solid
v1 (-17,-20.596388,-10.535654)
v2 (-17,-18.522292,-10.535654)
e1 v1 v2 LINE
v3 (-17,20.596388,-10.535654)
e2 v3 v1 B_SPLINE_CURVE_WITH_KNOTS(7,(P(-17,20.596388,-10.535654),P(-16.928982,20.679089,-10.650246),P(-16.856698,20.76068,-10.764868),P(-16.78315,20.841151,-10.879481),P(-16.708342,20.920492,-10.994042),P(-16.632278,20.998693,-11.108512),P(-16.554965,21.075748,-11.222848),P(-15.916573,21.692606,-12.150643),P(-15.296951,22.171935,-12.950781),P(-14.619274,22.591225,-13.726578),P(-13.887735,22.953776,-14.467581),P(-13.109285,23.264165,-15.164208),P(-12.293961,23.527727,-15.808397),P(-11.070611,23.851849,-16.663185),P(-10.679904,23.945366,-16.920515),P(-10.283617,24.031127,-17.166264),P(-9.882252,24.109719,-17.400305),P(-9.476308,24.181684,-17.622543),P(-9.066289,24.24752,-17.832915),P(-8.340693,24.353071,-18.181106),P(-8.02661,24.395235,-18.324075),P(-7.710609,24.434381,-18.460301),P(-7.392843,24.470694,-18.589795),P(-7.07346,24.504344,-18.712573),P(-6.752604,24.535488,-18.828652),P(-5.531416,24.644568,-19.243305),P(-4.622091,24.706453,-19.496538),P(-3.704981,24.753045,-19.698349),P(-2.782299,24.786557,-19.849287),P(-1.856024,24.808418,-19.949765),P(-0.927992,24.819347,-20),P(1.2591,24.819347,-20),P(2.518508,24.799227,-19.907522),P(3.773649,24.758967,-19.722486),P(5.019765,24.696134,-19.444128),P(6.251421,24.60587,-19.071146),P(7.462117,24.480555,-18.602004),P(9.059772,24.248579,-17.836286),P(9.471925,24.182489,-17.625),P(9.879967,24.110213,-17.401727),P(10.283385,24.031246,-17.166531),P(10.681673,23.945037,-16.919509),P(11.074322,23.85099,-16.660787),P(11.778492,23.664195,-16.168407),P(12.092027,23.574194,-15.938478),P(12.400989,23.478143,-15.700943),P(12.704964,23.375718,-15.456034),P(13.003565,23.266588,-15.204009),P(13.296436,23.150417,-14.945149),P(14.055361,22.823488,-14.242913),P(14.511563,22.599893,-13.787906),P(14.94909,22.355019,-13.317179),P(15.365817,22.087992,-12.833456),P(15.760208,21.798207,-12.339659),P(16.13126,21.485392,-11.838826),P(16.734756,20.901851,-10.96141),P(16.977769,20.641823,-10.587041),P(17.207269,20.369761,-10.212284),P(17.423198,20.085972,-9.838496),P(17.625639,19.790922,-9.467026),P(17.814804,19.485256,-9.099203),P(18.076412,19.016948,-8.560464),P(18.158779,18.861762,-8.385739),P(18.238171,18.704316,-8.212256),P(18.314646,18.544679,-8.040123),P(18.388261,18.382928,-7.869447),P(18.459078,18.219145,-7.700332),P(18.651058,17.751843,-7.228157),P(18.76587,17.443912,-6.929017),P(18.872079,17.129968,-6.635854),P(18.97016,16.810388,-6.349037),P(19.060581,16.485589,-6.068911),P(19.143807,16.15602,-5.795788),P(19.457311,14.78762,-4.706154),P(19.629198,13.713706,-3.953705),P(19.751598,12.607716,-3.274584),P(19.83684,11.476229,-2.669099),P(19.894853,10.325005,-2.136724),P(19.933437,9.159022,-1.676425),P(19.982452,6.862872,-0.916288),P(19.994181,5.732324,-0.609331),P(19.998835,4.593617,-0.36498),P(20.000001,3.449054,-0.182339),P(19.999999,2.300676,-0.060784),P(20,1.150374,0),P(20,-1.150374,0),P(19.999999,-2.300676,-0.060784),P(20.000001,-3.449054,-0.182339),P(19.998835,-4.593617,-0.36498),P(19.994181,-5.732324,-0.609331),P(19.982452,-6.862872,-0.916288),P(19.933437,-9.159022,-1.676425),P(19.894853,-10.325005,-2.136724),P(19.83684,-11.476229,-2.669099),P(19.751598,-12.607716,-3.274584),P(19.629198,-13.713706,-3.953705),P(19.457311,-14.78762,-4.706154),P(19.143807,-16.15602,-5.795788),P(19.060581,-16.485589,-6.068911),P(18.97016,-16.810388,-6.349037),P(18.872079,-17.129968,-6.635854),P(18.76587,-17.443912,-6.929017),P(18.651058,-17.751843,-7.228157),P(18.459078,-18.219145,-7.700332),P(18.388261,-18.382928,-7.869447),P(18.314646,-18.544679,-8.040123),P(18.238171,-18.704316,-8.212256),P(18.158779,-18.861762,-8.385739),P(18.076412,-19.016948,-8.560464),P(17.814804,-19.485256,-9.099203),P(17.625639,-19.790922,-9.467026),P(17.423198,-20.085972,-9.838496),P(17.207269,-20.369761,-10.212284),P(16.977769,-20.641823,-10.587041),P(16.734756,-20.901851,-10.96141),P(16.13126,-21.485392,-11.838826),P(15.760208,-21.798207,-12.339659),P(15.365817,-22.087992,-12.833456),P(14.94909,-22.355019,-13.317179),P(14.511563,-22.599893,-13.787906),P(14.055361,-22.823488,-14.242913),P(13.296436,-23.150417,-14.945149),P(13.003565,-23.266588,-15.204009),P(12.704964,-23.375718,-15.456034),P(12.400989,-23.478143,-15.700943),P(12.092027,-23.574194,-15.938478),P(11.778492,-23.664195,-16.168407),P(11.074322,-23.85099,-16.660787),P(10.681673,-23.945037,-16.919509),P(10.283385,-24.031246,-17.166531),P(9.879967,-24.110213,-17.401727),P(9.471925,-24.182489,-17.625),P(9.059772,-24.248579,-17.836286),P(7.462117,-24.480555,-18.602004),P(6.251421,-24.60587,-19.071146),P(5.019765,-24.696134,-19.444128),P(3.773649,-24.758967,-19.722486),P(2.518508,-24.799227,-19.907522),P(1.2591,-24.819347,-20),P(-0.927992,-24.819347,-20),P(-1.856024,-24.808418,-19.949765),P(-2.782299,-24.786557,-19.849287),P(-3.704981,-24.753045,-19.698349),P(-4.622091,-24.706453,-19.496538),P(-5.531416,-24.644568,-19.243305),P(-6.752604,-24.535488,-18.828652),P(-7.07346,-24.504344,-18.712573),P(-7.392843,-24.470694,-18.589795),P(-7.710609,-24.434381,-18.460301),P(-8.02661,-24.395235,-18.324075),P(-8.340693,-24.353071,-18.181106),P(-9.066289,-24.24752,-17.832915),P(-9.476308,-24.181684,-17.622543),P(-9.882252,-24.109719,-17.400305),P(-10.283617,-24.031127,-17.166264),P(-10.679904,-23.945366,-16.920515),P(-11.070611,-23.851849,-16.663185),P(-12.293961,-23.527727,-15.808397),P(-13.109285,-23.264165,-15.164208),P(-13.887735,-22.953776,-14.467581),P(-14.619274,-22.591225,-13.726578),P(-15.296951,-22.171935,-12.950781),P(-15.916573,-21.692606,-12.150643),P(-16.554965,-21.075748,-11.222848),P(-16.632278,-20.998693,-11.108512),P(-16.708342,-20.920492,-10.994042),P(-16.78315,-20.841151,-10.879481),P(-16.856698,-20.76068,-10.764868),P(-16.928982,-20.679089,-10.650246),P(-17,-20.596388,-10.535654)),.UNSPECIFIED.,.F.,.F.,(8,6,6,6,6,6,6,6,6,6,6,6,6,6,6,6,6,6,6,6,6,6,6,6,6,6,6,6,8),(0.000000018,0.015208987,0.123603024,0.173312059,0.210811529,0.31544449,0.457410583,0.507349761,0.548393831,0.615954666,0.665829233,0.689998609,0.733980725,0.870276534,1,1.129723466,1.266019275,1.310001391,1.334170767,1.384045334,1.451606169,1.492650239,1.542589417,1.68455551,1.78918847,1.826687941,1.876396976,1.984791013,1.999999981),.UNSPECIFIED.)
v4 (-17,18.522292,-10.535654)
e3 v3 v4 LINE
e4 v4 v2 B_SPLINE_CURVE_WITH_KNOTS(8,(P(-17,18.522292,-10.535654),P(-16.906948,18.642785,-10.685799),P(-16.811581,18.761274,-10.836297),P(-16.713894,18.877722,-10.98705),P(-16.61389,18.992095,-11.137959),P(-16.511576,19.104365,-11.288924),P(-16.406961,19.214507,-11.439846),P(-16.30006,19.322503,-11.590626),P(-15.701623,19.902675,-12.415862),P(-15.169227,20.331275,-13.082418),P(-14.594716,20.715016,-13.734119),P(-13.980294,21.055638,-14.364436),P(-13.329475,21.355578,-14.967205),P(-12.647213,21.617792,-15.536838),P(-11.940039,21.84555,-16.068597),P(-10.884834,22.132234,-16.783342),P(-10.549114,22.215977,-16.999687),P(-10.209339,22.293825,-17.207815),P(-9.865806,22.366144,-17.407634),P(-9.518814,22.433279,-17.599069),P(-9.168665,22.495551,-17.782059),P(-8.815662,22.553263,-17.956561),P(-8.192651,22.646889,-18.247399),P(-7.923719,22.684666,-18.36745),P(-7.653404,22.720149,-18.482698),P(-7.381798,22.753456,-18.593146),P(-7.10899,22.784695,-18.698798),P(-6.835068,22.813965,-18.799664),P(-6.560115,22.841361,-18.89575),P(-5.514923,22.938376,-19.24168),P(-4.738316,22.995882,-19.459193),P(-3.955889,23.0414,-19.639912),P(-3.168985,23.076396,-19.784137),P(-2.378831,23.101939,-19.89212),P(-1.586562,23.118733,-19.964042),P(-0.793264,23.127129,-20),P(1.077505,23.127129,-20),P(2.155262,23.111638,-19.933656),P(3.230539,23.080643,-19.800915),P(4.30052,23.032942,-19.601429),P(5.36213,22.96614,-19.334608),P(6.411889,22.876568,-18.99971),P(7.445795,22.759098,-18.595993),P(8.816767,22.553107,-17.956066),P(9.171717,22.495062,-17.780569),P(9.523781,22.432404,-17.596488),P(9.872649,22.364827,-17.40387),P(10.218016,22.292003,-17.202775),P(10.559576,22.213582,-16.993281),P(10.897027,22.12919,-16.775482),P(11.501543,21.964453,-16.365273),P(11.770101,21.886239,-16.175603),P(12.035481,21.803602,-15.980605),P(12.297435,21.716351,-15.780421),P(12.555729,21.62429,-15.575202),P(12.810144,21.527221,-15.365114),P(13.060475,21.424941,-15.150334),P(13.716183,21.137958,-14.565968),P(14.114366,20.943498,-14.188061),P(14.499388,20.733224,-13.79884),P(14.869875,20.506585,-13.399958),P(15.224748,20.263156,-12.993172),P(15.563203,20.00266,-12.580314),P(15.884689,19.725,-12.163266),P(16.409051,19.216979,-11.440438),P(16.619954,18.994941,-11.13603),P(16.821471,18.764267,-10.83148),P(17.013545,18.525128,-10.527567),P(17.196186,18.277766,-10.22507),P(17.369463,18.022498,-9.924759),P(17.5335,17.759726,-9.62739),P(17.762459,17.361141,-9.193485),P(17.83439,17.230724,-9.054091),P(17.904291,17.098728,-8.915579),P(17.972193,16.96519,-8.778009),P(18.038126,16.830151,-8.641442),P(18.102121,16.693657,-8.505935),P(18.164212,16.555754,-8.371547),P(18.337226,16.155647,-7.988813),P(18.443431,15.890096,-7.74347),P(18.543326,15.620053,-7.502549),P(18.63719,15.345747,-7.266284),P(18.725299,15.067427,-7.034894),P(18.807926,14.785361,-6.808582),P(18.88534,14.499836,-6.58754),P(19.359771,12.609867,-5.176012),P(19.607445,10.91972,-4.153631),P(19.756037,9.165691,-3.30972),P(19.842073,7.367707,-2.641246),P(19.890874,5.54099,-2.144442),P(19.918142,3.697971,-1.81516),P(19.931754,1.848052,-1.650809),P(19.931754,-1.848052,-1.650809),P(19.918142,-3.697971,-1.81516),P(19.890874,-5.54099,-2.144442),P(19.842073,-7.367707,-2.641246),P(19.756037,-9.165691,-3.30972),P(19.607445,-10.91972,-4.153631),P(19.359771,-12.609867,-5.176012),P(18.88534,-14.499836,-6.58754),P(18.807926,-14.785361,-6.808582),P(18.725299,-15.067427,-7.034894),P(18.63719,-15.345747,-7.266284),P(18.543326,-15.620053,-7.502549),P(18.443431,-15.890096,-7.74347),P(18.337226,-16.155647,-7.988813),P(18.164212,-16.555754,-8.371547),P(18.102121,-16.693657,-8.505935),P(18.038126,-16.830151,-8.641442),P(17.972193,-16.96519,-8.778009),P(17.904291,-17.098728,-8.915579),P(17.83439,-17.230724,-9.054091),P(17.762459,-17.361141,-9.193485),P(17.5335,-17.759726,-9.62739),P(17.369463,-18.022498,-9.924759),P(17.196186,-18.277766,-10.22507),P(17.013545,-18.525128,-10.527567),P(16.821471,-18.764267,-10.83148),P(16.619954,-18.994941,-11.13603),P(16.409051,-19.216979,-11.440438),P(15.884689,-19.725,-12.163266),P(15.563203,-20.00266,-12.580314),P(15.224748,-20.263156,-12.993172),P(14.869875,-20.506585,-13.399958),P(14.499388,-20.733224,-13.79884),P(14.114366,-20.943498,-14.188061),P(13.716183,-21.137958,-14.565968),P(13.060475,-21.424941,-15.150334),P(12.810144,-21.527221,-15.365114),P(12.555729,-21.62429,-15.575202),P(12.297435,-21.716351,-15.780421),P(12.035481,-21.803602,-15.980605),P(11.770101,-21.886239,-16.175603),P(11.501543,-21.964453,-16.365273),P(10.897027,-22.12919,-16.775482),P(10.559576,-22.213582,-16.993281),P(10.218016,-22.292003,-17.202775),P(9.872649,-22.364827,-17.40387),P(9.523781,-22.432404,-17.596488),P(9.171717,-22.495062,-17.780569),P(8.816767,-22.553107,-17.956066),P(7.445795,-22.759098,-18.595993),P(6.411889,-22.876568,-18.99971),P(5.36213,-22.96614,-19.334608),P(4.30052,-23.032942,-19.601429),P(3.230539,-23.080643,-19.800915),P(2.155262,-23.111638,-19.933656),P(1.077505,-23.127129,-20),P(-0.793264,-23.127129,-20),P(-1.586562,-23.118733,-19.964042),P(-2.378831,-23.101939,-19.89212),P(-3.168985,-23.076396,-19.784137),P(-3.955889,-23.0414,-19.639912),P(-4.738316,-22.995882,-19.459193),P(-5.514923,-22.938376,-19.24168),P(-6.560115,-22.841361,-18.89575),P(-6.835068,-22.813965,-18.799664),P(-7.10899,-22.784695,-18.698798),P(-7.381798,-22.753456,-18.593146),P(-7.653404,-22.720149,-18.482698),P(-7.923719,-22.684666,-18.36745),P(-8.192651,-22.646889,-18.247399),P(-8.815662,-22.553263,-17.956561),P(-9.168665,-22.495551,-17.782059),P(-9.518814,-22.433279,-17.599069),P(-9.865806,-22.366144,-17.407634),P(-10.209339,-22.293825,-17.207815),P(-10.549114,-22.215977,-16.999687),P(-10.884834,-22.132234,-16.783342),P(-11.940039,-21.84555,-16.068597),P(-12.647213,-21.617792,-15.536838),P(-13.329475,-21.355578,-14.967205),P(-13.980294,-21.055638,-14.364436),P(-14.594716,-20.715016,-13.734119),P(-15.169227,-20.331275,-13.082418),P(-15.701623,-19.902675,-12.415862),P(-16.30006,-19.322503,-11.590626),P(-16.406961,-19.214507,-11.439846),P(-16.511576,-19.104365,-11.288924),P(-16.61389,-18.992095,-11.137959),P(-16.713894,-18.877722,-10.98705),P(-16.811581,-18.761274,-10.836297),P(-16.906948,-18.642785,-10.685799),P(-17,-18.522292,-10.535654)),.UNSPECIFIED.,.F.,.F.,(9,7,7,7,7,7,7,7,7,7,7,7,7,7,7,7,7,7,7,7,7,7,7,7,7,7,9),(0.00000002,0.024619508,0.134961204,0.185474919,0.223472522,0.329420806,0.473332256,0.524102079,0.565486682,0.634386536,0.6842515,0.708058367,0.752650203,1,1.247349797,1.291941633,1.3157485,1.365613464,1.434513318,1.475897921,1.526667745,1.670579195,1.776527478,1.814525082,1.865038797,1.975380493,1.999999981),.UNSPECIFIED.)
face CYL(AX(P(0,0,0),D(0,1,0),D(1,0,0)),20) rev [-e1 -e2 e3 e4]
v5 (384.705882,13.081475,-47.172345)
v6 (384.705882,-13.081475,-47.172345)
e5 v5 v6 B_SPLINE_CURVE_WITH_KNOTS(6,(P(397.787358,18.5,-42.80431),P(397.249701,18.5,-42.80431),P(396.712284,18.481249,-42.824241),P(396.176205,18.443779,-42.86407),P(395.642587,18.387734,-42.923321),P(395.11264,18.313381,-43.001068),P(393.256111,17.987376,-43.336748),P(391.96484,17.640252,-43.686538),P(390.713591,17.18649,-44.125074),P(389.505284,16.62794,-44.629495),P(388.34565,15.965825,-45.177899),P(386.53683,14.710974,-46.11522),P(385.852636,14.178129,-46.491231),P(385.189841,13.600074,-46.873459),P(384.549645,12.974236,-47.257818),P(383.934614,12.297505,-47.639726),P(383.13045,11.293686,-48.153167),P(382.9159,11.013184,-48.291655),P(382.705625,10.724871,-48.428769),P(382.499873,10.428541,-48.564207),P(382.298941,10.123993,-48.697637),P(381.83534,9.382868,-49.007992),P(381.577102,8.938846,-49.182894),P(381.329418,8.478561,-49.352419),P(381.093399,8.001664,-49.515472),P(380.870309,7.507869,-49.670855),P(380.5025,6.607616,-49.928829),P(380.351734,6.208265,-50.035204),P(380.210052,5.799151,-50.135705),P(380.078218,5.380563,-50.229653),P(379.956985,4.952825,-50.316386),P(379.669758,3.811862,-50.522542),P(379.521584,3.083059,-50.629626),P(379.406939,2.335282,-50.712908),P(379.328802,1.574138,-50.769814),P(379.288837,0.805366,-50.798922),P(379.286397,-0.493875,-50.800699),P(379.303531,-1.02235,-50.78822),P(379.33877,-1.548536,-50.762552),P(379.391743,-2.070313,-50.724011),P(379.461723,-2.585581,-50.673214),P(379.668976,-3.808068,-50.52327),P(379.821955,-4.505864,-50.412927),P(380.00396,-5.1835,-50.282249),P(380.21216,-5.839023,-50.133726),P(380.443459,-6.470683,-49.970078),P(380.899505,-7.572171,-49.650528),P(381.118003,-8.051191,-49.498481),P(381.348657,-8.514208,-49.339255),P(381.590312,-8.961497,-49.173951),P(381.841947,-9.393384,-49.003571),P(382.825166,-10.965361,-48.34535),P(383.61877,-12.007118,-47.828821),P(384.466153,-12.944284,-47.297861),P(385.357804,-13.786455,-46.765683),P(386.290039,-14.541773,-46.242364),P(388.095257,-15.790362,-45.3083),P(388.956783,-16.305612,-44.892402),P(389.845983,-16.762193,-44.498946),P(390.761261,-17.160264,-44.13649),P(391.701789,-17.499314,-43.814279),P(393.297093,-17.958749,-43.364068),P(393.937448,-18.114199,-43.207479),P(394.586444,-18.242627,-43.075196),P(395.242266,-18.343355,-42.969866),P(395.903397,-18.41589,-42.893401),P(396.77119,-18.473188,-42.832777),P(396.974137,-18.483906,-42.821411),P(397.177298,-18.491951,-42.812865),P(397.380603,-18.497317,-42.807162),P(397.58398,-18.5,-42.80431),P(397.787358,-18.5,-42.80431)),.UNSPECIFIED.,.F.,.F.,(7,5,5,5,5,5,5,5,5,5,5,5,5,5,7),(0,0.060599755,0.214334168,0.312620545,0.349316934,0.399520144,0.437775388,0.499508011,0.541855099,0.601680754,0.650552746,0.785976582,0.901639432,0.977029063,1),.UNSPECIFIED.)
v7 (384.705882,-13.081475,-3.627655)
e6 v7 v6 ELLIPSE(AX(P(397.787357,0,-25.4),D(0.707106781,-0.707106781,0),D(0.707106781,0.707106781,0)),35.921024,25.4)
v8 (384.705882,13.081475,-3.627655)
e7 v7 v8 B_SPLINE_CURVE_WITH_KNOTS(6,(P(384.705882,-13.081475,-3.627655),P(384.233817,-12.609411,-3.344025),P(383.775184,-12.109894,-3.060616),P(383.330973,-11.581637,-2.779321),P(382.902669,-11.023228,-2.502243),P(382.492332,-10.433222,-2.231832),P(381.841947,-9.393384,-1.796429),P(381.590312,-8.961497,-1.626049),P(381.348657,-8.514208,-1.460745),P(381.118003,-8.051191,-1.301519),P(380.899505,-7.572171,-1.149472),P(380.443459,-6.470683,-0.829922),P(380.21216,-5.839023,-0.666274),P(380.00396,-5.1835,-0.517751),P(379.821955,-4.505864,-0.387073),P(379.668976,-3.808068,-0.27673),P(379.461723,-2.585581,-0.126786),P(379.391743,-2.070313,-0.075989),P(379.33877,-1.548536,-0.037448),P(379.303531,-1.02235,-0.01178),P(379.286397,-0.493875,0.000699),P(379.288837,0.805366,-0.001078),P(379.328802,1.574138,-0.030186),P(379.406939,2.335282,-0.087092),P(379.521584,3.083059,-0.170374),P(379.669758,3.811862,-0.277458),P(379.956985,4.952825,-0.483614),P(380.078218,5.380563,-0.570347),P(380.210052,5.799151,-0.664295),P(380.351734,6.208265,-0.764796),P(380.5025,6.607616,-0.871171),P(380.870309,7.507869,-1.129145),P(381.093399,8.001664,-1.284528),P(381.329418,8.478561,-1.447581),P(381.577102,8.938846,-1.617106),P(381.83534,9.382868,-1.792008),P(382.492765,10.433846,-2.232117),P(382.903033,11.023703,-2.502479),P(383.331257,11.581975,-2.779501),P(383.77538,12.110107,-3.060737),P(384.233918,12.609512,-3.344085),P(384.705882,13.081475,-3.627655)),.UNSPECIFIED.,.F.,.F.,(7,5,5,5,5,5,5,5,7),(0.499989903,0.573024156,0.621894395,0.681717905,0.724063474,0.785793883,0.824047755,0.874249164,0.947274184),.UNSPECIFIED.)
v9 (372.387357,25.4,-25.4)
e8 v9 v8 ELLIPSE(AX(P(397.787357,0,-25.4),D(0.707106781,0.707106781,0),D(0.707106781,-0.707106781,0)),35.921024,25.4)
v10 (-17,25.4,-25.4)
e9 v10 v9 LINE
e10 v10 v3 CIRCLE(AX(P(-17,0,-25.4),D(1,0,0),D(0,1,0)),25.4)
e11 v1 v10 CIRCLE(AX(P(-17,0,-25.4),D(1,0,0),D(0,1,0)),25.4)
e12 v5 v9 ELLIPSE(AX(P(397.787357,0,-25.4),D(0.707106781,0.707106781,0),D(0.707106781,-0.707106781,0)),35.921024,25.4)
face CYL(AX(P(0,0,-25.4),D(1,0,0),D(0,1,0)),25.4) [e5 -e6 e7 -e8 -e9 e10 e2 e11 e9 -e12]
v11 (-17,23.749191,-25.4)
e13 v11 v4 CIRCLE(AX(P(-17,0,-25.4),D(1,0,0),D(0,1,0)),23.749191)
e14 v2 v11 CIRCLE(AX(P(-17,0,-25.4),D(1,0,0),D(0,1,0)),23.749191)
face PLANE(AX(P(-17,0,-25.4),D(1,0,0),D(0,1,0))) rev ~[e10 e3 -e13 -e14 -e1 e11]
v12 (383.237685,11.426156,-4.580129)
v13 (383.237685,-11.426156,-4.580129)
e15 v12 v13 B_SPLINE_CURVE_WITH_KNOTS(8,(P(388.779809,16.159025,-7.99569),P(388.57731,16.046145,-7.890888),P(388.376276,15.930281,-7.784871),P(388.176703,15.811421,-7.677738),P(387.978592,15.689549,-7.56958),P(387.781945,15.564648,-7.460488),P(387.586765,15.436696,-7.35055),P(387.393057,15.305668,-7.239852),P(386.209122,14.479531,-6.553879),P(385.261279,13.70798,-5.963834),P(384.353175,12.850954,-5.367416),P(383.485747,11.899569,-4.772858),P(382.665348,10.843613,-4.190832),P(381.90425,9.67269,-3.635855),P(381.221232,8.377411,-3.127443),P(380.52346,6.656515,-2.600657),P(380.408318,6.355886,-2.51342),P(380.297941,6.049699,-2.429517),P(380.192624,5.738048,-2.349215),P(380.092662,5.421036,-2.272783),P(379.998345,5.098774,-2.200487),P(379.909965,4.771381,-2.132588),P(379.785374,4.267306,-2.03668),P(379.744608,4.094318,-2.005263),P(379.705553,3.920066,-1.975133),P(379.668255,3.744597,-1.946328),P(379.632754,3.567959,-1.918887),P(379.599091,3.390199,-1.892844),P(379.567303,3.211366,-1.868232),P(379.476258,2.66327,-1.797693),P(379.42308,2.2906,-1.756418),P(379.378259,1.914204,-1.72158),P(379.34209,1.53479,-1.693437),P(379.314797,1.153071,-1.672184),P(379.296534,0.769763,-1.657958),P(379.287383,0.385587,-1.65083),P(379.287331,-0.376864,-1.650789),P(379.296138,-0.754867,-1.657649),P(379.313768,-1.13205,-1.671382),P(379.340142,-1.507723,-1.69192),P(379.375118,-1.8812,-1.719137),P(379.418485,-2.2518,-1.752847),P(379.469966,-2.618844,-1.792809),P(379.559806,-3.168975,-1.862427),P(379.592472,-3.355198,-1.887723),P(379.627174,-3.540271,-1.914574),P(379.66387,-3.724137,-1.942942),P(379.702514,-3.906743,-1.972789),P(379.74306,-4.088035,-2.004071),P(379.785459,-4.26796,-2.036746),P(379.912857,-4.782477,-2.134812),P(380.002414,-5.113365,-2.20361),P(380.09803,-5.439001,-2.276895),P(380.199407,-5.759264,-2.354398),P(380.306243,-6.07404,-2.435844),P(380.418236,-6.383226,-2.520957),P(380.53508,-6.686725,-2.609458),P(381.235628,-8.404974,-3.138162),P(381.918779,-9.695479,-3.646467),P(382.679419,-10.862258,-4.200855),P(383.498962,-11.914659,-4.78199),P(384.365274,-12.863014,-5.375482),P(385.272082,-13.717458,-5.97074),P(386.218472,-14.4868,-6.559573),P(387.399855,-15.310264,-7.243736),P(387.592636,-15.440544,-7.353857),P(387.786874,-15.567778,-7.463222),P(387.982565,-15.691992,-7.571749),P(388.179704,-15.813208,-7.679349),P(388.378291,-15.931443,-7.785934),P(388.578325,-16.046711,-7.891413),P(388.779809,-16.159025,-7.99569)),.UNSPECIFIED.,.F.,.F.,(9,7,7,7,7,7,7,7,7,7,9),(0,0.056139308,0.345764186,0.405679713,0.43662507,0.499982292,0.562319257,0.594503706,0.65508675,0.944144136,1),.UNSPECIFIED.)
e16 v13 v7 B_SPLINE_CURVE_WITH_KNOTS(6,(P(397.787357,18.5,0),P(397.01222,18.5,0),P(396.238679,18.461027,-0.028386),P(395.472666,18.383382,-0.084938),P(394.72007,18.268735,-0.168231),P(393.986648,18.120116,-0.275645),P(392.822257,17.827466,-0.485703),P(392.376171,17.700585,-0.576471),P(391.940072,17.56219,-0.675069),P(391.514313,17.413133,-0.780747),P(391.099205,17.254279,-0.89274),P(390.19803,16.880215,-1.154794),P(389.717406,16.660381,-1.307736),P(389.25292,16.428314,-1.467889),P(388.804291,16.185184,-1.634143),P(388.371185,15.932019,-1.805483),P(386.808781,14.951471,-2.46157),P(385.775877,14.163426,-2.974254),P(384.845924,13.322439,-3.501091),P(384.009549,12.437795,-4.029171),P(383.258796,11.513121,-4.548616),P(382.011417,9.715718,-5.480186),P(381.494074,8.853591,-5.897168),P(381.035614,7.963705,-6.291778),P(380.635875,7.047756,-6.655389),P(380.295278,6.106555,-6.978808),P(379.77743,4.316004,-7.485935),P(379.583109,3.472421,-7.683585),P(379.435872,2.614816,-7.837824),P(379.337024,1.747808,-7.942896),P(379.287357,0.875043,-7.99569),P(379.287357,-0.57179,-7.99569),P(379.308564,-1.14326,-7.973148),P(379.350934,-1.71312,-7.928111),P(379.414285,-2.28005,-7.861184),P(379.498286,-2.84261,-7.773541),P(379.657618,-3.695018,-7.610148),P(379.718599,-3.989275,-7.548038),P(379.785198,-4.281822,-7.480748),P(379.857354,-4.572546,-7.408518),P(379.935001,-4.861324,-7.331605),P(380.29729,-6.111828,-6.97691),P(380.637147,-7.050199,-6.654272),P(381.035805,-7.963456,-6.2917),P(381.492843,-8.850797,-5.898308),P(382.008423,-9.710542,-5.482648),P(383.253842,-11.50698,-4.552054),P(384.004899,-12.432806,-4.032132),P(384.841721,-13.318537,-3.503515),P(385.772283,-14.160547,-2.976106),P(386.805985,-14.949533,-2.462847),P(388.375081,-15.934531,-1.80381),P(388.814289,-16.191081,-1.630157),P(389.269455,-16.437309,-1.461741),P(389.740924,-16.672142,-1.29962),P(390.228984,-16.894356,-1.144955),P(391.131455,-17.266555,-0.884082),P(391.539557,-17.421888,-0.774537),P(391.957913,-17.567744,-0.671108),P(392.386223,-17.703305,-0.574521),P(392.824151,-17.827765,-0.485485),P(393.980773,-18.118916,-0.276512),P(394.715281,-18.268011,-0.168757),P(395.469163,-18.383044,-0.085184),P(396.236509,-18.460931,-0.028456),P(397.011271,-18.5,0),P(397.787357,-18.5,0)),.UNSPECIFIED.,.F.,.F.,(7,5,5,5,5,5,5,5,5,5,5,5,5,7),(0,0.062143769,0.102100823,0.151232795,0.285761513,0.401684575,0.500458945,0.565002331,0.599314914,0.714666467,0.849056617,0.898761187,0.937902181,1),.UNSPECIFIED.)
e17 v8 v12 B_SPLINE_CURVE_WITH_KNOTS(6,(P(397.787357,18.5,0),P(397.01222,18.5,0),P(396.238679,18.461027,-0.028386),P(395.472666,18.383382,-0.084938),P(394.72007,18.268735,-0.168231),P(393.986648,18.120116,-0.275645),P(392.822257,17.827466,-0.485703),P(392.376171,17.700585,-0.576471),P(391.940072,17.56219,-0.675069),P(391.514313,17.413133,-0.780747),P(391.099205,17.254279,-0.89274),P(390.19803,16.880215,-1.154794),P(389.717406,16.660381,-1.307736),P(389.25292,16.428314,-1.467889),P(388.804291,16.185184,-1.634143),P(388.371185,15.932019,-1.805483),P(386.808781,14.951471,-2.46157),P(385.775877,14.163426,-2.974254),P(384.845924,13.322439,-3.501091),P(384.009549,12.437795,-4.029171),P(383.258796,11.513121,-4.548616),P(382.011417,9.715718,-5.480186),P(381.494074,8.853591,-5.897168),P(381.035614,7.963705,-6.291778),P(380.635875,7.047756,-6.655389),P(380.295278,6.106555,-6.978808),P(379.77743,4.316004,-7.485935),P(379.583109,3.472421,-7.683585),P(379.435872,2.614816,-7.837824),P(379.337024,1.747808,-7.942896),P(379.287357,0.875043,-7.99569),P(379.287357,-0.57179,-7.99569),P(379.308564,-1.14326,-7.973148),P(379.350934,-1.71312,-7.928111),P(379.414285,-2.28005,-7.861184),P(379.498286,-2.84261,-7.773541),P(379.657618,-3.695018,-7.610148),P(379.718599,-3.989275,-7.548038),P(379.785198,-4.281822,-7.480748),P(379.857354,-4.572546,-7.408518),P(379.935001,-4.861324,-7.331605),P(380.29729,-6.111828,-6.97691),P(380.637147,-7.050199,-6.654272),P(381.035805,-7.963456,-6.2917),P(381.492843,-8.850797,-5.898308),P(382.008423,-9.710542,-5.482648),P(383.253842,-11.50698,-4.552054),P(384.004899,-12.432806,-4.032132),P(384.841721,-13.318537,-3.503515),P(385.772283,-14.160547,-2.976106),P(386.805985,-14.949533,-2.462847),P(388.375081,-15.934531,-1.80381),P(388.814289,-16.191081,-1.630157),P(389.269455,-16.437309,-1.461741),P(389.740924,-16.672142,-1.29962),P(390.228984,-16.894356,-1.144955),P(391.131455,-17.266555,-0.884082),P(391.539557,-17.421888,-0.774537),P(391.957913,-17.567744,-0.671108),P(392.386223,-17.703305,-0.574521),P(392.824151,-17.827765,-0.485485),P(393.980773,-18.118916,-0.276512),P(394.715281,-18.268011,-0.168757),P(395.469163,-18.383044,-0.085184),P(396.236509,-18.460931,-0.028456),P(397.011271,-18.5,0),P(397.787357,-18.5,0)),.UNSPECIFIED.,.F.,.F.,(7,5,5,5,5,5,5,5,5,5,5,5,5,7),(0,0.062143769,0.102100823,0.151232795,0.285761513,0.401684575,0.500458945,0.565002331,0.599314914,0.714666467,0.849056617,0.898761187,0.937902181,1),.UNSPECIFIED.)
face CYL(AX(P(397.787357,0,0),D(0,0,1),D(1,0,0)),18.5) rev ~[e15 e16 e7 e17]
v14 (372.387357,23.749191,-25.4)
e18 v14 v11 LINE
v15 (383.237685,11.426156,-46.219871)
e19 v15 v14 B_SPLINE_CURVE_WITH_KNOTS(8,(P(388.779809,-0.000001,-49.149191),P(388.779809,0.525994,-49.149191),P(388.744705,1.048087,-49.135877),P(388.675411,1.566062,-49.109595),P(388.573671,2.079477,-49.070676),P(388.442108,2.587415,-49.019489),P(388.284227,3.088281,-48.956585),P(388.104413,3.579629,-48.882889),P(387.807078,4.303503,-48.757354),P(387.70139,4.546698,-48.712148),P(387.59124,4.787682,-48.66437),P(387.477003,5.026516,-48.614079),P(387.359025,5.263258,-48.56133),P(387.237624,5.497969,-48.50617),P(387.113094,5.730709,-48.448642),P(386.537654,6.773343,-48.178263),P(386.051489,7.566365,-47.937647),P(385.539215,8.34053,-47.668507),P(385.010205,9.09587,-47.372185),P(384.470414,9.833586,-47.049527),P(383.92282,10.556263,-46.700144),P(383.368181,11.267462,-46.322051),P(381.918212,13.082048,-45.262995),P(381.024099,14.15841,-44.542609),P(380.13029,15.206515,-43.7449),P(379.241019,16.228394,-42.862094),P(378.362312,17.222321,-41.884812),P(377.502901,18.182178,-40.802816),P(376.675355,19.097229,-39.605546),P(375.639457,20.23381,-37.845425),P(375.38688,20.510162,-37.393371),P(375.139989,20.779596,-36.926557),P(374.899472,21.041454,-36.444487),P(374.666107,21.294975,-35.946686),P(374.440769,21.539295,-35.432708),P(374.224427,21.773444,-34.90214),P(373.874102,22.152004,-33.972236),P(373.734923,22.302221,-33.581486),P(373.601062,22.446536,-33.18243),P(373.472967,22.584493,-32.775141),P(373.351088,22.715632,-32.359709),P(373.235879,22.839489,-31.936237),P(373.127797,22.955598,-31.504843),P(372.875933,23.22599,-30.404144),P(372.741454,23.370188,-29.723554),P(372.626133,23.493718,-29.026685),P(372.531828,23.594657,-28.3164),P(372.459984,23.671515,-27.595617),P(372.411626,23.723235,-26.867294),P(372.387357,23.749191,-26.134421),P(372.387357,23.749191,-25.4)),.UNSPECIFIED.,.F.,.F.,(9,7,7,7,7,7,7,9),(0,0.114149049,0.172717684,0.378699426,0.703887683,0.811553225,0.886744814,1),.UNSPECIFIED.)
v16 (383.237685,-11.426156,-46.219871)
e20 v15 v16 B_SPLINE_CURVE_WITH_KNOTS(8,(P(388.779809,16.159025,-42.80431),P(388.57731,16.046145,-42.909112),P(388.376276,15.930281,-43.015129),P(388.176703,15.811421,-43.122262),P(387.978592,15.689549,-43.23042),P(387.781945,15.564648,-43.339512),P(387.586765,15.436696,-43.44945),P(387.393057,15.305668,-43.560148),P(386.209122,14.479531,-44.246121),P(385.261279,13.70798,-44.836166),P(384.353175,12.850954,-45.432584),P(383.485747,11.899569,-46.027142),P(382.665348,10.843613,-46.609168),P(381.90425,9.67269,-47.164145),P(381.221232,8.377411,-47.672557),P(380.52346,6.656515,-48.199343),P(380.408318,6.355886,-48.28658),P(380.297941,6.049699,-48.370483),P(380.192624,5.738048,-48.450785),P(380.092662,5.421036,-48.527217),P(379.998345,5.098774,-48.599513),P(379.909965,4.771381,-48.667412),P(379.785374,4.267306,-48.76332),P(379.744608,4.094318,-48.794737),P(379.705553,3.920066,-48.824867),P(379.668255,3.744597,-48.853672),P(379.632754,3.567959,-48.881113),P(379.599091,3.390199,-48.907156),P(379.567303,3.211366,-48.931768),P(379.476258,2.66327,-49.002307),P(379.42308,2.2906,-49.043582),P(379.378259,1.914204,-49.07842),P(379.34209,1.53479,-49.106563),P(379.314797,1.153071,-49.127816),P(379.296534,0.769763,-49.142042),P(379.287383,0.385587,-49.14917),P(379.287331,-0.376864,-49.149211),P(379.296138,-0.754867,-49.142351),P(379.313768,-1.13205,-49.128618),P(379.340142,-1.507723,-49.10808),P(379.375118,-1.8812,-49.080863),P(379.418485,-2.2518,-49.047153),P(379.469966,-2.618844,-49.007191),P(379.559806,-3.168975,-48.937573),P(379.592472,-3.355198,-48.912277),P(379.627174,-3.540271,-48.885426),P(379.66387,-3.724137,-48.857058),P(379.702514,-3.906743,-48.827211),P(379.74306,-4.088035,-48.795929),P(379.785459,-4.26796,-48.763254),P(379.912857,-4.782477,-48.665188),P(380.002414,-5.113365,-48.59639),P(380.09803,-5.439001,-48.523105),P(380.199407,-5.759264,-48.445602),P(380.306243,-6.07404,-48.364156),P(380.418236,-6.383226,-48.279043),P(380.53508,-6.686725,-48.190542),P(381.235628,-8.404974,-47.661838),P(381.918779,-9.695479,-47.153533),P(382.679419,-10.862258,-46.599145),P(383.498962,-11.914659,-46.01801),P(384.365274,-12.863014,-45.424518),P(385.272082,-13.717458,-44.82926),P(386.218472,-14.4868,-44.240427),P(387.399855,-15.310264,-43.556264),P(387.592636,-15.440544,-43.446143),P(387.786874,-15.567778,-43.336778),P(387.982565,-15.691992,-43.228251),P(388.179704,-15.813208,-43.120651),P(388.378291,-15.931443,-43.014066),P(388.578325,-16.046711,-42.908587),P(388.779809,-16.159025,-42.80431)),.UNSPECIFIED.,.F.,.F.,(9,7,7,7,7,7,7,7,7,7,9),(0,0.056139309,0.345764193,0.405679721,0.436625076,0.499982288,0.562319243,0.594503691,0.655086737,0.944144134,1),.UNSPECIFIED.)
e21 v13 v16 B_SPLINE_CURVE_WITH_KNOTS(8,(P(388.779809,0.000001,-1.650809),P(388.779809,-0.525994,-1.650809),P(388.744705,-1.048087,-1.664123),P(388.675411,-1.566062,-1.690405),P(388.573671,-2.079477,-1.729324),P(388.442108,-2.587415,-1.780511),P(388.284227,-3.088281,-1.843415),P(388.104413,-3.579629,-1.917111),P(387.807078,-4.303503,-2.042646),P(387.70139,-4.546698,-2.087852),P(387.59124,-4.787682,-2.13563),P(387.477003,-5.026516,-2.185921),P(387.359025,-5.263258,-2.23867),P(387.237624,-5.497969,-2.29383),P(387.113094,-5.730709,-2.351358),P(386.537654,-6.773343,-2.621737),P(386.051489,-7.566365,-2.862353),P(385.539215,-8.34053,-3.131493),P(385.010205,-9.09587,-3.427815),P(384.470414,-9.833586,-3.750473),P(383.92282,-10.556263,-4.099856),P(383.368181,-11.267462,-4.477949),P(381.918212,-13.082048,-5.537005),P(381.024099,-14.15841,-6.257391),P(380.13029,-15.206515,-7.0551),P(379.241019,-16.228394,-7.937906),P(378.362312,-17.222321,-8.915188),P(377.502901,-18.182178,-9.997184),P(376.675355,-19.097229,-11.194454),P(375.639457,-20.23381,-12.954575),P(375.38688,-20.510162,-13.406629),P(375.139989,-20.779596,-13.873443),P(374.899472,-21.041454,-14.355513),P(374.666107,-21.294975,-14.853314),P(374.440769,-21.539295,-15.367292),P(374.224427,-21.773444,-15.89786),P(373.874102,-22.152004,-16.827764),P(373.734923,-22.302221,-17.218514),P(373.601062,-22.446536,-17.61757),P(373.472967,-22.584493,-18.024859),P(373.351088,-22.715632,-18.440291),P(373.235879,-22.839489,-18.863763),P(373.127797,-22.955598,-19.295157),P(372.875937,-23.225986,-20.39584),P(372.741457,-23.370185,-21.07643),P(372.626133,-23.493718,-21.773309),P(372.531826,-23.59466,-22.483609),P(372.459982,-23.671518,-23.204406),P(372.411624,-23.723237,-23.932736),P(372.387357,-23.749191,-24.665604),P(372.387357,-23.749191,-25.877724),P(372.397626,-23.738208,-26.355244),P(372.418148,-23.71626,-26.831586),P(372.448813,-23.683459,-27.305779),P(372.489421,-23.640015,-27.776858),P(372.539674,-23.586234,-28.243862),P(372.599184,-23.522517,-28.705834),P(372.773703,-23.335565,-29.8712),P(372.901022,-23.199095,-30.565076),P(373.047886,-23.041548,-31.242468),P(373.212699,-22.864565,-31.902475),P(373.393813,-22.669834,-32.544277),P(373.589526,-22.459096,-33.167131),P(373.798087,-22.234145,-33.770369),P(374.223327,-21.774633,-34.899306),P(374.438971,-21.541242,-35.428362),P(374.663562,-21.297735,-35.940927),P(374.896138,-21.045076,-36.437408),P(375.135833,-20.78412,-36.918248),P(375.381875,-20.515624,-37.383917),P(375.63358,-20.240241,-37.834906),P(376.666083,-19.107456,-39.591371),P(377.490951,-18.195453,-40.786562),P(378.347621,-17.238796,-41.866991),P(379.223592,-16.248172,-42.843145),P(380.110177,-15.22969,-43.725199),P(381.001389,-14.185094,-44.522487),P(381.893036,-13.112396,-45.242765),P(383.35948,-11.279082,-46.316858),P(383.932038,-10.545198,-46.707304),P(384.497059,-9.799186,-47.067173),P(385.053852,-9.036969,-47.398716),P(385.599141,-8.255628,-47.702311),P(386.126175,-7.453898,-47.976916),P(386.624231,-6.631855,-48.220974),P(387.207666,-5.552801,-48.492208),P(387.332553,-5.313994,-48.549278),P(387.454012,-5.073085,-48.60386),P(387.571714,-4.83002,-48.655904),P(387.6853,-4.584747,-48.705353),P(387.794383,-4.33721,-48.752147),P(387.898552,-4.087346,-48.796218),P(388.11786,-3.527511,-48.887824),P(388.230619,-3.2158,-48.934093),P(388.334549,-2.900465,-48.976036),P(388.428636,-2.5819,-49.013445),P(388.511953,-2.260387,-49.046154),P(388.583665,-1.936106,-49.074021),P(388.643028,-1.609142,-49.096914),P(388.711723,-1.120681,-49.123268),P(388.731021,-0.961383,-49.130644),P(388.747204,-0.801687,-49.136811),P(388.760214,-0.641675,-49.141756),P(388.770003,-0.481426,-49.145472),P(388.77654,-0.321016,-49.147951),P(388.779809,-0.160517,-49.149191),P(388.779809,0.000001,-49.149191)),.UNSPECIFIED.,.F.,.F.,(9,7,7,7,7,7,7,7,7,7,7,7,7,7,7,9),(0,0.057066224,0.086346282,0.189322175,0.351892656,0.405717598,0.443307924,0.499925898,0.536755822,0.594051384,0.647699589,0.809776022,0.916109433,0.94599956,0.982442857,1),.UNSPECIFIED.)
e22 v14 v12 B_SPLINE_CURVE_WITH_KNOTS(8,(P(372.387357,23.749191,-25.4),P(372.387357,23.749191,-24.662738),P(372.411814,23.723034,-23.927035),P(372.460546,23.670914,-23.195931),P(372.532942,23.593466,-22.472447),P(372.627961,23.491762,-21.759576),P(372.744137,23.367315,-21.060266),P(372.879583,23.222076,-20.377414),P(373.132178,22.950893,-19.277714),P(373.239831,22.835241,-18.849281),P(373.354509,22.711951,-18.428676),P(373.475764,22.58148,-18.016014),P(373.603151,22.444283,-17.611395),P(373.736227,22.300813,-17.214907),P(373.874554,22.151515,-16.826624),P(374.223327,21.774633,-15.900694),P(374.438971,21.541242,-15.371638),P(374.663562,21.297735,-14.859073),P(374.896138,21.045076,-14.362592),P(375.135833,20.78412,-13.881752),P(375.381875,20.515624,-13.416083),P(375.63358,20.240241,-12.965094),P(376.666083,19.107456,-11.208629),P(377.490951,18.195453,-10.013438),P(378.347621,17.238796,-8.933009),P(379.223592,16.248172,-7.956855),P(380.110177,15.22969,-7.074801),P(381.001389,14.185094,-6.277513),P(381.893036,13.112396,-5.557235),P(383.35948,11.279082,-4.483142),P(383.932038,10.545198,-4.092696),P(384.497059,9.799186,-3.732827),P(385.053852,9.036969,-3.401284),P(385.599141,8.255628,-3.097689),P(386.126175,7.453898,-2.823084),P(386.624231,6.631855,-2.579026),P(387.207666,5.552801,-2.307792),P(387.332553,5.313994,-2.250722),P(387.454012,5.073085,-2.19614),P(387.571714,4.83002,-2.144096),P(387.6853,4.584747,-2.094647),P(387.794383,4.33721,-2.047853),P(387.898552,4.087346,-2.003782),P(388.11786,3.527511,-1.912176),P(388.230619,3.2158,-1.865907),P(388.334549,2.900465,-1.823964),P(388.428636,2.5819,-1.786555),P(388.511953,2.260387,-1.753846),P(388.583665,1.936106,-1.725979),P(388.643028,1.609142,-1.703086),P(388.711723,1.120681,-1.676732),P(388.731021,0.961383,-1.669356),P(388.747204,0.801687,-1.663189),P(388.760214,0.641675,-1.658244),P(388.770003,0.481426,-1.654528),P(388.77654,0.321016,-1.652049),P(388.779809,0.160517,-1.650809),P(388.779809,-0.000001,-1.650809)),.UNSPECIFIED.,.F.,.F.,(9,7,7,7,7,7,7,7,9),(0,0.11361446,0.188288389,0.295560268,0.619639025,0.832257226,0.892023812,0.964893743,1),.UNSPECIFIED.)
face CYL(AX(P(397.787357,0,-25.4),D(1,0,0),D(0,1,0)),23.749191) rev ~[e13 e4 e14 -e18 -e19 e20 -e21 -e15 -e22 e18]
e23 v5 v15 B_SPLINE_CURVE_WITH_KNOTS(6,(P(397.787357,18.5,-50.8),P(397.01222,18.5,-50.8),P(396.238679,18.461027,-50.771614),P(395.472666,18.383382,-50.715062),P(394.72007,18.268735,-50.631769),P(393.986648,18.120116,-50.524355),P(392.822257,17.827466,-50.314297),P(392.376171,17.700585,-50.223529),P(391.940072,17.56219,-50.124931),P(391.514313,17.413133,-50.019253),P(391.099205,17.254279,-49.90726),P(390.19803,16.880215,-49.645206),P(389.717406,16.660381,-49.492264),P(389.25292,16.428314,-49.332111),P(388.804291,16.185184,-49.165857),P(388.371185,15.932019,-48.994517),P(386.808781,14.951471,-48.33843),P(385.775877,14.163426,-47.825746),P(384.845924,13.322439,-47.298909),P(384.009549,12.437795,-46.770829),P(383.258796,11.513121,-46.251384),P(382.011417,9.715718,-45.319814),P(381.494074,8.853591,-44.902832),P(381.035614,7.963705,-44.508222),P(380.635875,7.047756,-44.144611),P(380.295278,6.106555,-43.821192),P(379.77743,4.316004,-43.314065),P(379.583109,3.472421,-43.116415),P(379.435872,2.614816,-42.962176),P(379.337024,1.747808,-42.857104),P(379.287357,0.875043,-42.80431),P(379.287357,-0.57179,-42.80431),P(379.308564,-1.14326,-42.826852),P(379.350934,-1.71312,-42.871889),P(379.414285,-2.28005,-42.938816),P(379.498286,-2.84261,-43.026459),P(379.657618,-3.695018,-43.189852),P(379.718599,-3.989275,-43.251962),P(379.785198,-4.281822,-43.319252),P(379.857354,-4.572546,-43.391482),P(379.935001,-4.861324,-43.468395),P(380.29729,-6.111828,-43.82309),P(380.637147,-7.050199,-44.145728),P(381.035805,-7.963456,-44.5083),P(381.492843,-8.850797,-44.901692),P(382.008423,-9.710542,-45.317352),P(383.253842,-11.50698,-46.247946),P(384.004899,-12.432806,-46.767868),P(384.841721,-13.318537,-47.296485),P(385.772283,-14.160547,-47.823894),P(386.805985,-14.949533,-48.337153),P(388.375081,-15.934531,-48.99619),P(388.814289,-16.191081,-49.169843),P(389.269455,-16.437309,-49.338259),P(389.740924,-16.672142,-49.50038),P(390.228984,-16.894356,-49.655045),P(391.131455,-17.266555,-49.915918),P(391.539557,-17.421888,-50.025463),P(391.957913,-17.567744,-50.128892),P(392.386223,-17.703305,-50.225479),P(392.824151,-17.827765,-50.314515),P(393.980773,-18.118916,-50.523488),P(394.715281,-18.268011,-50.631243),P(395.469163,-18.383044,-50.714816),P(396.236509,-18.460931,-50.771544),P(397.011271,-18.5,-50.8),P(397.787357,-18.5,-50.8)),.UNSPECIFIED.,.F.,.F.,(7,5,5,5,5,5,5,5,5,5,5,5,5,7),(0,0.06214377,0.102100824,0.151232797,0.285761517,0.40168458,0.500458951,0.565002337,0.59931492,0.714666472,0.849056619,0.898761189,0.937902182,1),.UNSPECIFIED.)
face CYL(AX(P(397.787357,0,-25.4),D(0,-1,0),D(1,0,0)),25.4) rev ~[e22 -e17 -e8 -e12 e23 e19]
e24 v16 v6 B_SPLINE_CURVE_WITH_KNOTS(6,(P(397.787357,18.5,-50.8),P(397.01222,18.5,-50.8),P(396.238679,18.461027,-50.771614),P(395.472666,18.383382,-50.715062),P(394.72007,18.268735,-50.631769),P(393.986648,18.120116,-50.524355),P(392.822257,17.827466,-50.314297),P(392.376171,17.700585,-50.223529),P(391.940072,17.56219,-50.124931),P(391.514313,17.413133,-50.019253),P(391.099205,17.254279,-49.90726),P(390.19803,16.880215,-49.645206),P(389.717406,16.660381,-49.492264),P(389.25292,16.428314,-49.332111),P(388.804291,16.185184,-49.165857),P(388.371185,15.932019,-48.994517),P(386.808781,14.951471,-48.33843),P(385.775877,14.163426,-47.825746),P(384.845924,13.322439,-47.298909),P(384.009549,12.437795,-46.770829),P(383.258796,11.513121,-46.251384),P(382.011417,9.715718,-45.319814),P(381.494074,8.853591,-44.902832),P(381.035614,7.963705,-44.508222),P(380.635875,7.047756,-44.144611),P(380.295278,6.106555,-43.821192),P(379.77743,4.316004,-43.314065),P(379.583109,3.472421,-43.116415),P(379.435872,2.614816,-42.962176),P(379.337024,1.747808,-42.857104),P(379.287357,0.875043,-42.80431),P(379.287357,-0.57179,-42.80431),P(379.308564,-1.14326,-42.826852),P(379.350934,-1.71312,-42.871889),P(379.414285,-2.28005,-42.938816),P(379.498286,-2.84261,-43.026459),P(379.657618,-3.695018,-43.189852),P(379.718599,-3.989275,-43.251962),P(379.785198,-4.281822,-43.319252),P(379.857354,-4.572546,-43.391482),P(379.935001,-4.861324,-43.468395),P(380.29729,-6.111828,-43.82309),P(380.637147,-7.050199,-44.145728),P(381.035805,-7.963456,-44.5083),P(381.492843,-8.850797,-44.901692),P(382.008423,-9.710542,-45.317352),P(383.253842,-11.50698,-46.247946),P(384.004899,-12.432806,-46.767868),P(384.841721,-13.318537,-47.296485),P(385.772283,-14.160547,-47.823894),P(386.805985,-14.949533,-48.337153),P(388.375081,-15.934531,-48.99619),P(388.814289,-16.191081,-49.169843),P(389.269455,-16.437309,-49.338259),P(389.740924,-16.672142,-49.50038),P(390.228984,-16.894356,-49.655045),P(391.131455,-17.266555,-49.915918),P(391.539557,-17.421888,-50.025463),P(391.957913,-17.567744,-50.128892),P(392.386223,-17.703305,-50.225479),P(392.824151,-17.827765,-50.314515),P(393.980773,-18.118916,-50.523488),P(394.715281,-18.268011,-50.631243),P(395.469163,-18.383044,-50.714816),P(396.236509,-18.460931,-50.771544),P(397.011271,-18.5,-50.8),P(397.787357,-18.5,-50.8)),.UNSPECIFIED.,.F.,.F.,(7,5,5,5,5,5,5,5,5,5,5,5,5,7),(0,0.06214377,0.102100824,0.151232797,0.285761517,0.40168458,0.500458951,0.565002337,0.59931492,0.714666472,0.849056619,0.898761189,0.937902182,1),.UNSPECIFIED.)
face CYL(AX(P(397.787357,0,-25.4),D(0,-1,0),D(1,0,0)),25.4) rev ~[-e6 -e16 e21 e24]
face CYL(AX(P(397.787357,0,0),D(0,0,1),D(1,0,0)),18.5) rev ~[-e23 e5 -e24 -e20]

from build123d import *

# Parameters (mm, degrees)
SKETCH002_R          = 25.4
PAD_DEPTH            = 397.787357
PAD_DEPTH_BACK       = 17
SKETCH011_R          = 23.749191
POCKET002_DEPTH      = 414.788357
SKETCH010_R          = 20
POCKET003_DEPTH      = 25.401
POCKET003_DEPTH_BACK = 25.401
SKETCH019_R          = 25.4
POCKET008_DEPTH      = 25.401
POCKET008_DEPTH_BACK = 25.401
SKETCH020_R          = 18.5
POCKET009_DEPTH      = 50.801


with BuildPart() as part:
    # Sketch002 → Pad (new body, two sides)
    with BuildSketch(Plane.YZ) as pad_sk:
        with Locations((0, -25.4)):
            Circle(SKETCH002_R)
    extrude(amount=PAD_DEPTH)
    extrude(pad_sk.sketch, amount=-PAD_DEPTH_BACK)

    # Sketch011 (on Face3 of Pad) → Pocket002 (cut, through all)
    with BuildSketch(Plane.YZ.offset(397.787357)):
        with Locations((0, -25.4)):
            Circle(SKETCH011_R)
    extrude(amount=-POCKET002_DEPTH, mode=Mode.SUBTRACT)

    # Sketch010 → Pocket003 (cut, two sides)
    with BuildSketch(Plane.XZ) as pocket003_sk:
        Circle(SKETCH010_R)
    extrude(amount=-POCKET003_DEPTH, mode=Mode.SUBTRACT)
    extrude(pocket003_sk.sketch, amount=POCKET003_DEPTH_BACK, mode=Mode.SUBTRACT)

    # Sketch019 → Pocket008 (cut, two sides)
    with BuildSketch(Plane.XZ) as pocket008_sk:
        with Locations((397.787357, -25.4)):
            Circle(SKETCH019_R)
    extrude(amount=-POCKET008_DEPTH, mode=Mode.SUBTRACT)
    extrude(pocket008_sk.sketch, amount=POCKET008_DEPTH_BACK, mode=Mode.SUBTRACT)

    # Sketch020 → Pocket009 (cut, through all)
    with BuildSketch(Plane.XY):
        with Locations((397.787357, 0)):
            Circle(SKETCH020_R)
    extrude(amount=-POCKET009_DEPTH, mode=Mode.SUBTRACT)


solid = part.part
